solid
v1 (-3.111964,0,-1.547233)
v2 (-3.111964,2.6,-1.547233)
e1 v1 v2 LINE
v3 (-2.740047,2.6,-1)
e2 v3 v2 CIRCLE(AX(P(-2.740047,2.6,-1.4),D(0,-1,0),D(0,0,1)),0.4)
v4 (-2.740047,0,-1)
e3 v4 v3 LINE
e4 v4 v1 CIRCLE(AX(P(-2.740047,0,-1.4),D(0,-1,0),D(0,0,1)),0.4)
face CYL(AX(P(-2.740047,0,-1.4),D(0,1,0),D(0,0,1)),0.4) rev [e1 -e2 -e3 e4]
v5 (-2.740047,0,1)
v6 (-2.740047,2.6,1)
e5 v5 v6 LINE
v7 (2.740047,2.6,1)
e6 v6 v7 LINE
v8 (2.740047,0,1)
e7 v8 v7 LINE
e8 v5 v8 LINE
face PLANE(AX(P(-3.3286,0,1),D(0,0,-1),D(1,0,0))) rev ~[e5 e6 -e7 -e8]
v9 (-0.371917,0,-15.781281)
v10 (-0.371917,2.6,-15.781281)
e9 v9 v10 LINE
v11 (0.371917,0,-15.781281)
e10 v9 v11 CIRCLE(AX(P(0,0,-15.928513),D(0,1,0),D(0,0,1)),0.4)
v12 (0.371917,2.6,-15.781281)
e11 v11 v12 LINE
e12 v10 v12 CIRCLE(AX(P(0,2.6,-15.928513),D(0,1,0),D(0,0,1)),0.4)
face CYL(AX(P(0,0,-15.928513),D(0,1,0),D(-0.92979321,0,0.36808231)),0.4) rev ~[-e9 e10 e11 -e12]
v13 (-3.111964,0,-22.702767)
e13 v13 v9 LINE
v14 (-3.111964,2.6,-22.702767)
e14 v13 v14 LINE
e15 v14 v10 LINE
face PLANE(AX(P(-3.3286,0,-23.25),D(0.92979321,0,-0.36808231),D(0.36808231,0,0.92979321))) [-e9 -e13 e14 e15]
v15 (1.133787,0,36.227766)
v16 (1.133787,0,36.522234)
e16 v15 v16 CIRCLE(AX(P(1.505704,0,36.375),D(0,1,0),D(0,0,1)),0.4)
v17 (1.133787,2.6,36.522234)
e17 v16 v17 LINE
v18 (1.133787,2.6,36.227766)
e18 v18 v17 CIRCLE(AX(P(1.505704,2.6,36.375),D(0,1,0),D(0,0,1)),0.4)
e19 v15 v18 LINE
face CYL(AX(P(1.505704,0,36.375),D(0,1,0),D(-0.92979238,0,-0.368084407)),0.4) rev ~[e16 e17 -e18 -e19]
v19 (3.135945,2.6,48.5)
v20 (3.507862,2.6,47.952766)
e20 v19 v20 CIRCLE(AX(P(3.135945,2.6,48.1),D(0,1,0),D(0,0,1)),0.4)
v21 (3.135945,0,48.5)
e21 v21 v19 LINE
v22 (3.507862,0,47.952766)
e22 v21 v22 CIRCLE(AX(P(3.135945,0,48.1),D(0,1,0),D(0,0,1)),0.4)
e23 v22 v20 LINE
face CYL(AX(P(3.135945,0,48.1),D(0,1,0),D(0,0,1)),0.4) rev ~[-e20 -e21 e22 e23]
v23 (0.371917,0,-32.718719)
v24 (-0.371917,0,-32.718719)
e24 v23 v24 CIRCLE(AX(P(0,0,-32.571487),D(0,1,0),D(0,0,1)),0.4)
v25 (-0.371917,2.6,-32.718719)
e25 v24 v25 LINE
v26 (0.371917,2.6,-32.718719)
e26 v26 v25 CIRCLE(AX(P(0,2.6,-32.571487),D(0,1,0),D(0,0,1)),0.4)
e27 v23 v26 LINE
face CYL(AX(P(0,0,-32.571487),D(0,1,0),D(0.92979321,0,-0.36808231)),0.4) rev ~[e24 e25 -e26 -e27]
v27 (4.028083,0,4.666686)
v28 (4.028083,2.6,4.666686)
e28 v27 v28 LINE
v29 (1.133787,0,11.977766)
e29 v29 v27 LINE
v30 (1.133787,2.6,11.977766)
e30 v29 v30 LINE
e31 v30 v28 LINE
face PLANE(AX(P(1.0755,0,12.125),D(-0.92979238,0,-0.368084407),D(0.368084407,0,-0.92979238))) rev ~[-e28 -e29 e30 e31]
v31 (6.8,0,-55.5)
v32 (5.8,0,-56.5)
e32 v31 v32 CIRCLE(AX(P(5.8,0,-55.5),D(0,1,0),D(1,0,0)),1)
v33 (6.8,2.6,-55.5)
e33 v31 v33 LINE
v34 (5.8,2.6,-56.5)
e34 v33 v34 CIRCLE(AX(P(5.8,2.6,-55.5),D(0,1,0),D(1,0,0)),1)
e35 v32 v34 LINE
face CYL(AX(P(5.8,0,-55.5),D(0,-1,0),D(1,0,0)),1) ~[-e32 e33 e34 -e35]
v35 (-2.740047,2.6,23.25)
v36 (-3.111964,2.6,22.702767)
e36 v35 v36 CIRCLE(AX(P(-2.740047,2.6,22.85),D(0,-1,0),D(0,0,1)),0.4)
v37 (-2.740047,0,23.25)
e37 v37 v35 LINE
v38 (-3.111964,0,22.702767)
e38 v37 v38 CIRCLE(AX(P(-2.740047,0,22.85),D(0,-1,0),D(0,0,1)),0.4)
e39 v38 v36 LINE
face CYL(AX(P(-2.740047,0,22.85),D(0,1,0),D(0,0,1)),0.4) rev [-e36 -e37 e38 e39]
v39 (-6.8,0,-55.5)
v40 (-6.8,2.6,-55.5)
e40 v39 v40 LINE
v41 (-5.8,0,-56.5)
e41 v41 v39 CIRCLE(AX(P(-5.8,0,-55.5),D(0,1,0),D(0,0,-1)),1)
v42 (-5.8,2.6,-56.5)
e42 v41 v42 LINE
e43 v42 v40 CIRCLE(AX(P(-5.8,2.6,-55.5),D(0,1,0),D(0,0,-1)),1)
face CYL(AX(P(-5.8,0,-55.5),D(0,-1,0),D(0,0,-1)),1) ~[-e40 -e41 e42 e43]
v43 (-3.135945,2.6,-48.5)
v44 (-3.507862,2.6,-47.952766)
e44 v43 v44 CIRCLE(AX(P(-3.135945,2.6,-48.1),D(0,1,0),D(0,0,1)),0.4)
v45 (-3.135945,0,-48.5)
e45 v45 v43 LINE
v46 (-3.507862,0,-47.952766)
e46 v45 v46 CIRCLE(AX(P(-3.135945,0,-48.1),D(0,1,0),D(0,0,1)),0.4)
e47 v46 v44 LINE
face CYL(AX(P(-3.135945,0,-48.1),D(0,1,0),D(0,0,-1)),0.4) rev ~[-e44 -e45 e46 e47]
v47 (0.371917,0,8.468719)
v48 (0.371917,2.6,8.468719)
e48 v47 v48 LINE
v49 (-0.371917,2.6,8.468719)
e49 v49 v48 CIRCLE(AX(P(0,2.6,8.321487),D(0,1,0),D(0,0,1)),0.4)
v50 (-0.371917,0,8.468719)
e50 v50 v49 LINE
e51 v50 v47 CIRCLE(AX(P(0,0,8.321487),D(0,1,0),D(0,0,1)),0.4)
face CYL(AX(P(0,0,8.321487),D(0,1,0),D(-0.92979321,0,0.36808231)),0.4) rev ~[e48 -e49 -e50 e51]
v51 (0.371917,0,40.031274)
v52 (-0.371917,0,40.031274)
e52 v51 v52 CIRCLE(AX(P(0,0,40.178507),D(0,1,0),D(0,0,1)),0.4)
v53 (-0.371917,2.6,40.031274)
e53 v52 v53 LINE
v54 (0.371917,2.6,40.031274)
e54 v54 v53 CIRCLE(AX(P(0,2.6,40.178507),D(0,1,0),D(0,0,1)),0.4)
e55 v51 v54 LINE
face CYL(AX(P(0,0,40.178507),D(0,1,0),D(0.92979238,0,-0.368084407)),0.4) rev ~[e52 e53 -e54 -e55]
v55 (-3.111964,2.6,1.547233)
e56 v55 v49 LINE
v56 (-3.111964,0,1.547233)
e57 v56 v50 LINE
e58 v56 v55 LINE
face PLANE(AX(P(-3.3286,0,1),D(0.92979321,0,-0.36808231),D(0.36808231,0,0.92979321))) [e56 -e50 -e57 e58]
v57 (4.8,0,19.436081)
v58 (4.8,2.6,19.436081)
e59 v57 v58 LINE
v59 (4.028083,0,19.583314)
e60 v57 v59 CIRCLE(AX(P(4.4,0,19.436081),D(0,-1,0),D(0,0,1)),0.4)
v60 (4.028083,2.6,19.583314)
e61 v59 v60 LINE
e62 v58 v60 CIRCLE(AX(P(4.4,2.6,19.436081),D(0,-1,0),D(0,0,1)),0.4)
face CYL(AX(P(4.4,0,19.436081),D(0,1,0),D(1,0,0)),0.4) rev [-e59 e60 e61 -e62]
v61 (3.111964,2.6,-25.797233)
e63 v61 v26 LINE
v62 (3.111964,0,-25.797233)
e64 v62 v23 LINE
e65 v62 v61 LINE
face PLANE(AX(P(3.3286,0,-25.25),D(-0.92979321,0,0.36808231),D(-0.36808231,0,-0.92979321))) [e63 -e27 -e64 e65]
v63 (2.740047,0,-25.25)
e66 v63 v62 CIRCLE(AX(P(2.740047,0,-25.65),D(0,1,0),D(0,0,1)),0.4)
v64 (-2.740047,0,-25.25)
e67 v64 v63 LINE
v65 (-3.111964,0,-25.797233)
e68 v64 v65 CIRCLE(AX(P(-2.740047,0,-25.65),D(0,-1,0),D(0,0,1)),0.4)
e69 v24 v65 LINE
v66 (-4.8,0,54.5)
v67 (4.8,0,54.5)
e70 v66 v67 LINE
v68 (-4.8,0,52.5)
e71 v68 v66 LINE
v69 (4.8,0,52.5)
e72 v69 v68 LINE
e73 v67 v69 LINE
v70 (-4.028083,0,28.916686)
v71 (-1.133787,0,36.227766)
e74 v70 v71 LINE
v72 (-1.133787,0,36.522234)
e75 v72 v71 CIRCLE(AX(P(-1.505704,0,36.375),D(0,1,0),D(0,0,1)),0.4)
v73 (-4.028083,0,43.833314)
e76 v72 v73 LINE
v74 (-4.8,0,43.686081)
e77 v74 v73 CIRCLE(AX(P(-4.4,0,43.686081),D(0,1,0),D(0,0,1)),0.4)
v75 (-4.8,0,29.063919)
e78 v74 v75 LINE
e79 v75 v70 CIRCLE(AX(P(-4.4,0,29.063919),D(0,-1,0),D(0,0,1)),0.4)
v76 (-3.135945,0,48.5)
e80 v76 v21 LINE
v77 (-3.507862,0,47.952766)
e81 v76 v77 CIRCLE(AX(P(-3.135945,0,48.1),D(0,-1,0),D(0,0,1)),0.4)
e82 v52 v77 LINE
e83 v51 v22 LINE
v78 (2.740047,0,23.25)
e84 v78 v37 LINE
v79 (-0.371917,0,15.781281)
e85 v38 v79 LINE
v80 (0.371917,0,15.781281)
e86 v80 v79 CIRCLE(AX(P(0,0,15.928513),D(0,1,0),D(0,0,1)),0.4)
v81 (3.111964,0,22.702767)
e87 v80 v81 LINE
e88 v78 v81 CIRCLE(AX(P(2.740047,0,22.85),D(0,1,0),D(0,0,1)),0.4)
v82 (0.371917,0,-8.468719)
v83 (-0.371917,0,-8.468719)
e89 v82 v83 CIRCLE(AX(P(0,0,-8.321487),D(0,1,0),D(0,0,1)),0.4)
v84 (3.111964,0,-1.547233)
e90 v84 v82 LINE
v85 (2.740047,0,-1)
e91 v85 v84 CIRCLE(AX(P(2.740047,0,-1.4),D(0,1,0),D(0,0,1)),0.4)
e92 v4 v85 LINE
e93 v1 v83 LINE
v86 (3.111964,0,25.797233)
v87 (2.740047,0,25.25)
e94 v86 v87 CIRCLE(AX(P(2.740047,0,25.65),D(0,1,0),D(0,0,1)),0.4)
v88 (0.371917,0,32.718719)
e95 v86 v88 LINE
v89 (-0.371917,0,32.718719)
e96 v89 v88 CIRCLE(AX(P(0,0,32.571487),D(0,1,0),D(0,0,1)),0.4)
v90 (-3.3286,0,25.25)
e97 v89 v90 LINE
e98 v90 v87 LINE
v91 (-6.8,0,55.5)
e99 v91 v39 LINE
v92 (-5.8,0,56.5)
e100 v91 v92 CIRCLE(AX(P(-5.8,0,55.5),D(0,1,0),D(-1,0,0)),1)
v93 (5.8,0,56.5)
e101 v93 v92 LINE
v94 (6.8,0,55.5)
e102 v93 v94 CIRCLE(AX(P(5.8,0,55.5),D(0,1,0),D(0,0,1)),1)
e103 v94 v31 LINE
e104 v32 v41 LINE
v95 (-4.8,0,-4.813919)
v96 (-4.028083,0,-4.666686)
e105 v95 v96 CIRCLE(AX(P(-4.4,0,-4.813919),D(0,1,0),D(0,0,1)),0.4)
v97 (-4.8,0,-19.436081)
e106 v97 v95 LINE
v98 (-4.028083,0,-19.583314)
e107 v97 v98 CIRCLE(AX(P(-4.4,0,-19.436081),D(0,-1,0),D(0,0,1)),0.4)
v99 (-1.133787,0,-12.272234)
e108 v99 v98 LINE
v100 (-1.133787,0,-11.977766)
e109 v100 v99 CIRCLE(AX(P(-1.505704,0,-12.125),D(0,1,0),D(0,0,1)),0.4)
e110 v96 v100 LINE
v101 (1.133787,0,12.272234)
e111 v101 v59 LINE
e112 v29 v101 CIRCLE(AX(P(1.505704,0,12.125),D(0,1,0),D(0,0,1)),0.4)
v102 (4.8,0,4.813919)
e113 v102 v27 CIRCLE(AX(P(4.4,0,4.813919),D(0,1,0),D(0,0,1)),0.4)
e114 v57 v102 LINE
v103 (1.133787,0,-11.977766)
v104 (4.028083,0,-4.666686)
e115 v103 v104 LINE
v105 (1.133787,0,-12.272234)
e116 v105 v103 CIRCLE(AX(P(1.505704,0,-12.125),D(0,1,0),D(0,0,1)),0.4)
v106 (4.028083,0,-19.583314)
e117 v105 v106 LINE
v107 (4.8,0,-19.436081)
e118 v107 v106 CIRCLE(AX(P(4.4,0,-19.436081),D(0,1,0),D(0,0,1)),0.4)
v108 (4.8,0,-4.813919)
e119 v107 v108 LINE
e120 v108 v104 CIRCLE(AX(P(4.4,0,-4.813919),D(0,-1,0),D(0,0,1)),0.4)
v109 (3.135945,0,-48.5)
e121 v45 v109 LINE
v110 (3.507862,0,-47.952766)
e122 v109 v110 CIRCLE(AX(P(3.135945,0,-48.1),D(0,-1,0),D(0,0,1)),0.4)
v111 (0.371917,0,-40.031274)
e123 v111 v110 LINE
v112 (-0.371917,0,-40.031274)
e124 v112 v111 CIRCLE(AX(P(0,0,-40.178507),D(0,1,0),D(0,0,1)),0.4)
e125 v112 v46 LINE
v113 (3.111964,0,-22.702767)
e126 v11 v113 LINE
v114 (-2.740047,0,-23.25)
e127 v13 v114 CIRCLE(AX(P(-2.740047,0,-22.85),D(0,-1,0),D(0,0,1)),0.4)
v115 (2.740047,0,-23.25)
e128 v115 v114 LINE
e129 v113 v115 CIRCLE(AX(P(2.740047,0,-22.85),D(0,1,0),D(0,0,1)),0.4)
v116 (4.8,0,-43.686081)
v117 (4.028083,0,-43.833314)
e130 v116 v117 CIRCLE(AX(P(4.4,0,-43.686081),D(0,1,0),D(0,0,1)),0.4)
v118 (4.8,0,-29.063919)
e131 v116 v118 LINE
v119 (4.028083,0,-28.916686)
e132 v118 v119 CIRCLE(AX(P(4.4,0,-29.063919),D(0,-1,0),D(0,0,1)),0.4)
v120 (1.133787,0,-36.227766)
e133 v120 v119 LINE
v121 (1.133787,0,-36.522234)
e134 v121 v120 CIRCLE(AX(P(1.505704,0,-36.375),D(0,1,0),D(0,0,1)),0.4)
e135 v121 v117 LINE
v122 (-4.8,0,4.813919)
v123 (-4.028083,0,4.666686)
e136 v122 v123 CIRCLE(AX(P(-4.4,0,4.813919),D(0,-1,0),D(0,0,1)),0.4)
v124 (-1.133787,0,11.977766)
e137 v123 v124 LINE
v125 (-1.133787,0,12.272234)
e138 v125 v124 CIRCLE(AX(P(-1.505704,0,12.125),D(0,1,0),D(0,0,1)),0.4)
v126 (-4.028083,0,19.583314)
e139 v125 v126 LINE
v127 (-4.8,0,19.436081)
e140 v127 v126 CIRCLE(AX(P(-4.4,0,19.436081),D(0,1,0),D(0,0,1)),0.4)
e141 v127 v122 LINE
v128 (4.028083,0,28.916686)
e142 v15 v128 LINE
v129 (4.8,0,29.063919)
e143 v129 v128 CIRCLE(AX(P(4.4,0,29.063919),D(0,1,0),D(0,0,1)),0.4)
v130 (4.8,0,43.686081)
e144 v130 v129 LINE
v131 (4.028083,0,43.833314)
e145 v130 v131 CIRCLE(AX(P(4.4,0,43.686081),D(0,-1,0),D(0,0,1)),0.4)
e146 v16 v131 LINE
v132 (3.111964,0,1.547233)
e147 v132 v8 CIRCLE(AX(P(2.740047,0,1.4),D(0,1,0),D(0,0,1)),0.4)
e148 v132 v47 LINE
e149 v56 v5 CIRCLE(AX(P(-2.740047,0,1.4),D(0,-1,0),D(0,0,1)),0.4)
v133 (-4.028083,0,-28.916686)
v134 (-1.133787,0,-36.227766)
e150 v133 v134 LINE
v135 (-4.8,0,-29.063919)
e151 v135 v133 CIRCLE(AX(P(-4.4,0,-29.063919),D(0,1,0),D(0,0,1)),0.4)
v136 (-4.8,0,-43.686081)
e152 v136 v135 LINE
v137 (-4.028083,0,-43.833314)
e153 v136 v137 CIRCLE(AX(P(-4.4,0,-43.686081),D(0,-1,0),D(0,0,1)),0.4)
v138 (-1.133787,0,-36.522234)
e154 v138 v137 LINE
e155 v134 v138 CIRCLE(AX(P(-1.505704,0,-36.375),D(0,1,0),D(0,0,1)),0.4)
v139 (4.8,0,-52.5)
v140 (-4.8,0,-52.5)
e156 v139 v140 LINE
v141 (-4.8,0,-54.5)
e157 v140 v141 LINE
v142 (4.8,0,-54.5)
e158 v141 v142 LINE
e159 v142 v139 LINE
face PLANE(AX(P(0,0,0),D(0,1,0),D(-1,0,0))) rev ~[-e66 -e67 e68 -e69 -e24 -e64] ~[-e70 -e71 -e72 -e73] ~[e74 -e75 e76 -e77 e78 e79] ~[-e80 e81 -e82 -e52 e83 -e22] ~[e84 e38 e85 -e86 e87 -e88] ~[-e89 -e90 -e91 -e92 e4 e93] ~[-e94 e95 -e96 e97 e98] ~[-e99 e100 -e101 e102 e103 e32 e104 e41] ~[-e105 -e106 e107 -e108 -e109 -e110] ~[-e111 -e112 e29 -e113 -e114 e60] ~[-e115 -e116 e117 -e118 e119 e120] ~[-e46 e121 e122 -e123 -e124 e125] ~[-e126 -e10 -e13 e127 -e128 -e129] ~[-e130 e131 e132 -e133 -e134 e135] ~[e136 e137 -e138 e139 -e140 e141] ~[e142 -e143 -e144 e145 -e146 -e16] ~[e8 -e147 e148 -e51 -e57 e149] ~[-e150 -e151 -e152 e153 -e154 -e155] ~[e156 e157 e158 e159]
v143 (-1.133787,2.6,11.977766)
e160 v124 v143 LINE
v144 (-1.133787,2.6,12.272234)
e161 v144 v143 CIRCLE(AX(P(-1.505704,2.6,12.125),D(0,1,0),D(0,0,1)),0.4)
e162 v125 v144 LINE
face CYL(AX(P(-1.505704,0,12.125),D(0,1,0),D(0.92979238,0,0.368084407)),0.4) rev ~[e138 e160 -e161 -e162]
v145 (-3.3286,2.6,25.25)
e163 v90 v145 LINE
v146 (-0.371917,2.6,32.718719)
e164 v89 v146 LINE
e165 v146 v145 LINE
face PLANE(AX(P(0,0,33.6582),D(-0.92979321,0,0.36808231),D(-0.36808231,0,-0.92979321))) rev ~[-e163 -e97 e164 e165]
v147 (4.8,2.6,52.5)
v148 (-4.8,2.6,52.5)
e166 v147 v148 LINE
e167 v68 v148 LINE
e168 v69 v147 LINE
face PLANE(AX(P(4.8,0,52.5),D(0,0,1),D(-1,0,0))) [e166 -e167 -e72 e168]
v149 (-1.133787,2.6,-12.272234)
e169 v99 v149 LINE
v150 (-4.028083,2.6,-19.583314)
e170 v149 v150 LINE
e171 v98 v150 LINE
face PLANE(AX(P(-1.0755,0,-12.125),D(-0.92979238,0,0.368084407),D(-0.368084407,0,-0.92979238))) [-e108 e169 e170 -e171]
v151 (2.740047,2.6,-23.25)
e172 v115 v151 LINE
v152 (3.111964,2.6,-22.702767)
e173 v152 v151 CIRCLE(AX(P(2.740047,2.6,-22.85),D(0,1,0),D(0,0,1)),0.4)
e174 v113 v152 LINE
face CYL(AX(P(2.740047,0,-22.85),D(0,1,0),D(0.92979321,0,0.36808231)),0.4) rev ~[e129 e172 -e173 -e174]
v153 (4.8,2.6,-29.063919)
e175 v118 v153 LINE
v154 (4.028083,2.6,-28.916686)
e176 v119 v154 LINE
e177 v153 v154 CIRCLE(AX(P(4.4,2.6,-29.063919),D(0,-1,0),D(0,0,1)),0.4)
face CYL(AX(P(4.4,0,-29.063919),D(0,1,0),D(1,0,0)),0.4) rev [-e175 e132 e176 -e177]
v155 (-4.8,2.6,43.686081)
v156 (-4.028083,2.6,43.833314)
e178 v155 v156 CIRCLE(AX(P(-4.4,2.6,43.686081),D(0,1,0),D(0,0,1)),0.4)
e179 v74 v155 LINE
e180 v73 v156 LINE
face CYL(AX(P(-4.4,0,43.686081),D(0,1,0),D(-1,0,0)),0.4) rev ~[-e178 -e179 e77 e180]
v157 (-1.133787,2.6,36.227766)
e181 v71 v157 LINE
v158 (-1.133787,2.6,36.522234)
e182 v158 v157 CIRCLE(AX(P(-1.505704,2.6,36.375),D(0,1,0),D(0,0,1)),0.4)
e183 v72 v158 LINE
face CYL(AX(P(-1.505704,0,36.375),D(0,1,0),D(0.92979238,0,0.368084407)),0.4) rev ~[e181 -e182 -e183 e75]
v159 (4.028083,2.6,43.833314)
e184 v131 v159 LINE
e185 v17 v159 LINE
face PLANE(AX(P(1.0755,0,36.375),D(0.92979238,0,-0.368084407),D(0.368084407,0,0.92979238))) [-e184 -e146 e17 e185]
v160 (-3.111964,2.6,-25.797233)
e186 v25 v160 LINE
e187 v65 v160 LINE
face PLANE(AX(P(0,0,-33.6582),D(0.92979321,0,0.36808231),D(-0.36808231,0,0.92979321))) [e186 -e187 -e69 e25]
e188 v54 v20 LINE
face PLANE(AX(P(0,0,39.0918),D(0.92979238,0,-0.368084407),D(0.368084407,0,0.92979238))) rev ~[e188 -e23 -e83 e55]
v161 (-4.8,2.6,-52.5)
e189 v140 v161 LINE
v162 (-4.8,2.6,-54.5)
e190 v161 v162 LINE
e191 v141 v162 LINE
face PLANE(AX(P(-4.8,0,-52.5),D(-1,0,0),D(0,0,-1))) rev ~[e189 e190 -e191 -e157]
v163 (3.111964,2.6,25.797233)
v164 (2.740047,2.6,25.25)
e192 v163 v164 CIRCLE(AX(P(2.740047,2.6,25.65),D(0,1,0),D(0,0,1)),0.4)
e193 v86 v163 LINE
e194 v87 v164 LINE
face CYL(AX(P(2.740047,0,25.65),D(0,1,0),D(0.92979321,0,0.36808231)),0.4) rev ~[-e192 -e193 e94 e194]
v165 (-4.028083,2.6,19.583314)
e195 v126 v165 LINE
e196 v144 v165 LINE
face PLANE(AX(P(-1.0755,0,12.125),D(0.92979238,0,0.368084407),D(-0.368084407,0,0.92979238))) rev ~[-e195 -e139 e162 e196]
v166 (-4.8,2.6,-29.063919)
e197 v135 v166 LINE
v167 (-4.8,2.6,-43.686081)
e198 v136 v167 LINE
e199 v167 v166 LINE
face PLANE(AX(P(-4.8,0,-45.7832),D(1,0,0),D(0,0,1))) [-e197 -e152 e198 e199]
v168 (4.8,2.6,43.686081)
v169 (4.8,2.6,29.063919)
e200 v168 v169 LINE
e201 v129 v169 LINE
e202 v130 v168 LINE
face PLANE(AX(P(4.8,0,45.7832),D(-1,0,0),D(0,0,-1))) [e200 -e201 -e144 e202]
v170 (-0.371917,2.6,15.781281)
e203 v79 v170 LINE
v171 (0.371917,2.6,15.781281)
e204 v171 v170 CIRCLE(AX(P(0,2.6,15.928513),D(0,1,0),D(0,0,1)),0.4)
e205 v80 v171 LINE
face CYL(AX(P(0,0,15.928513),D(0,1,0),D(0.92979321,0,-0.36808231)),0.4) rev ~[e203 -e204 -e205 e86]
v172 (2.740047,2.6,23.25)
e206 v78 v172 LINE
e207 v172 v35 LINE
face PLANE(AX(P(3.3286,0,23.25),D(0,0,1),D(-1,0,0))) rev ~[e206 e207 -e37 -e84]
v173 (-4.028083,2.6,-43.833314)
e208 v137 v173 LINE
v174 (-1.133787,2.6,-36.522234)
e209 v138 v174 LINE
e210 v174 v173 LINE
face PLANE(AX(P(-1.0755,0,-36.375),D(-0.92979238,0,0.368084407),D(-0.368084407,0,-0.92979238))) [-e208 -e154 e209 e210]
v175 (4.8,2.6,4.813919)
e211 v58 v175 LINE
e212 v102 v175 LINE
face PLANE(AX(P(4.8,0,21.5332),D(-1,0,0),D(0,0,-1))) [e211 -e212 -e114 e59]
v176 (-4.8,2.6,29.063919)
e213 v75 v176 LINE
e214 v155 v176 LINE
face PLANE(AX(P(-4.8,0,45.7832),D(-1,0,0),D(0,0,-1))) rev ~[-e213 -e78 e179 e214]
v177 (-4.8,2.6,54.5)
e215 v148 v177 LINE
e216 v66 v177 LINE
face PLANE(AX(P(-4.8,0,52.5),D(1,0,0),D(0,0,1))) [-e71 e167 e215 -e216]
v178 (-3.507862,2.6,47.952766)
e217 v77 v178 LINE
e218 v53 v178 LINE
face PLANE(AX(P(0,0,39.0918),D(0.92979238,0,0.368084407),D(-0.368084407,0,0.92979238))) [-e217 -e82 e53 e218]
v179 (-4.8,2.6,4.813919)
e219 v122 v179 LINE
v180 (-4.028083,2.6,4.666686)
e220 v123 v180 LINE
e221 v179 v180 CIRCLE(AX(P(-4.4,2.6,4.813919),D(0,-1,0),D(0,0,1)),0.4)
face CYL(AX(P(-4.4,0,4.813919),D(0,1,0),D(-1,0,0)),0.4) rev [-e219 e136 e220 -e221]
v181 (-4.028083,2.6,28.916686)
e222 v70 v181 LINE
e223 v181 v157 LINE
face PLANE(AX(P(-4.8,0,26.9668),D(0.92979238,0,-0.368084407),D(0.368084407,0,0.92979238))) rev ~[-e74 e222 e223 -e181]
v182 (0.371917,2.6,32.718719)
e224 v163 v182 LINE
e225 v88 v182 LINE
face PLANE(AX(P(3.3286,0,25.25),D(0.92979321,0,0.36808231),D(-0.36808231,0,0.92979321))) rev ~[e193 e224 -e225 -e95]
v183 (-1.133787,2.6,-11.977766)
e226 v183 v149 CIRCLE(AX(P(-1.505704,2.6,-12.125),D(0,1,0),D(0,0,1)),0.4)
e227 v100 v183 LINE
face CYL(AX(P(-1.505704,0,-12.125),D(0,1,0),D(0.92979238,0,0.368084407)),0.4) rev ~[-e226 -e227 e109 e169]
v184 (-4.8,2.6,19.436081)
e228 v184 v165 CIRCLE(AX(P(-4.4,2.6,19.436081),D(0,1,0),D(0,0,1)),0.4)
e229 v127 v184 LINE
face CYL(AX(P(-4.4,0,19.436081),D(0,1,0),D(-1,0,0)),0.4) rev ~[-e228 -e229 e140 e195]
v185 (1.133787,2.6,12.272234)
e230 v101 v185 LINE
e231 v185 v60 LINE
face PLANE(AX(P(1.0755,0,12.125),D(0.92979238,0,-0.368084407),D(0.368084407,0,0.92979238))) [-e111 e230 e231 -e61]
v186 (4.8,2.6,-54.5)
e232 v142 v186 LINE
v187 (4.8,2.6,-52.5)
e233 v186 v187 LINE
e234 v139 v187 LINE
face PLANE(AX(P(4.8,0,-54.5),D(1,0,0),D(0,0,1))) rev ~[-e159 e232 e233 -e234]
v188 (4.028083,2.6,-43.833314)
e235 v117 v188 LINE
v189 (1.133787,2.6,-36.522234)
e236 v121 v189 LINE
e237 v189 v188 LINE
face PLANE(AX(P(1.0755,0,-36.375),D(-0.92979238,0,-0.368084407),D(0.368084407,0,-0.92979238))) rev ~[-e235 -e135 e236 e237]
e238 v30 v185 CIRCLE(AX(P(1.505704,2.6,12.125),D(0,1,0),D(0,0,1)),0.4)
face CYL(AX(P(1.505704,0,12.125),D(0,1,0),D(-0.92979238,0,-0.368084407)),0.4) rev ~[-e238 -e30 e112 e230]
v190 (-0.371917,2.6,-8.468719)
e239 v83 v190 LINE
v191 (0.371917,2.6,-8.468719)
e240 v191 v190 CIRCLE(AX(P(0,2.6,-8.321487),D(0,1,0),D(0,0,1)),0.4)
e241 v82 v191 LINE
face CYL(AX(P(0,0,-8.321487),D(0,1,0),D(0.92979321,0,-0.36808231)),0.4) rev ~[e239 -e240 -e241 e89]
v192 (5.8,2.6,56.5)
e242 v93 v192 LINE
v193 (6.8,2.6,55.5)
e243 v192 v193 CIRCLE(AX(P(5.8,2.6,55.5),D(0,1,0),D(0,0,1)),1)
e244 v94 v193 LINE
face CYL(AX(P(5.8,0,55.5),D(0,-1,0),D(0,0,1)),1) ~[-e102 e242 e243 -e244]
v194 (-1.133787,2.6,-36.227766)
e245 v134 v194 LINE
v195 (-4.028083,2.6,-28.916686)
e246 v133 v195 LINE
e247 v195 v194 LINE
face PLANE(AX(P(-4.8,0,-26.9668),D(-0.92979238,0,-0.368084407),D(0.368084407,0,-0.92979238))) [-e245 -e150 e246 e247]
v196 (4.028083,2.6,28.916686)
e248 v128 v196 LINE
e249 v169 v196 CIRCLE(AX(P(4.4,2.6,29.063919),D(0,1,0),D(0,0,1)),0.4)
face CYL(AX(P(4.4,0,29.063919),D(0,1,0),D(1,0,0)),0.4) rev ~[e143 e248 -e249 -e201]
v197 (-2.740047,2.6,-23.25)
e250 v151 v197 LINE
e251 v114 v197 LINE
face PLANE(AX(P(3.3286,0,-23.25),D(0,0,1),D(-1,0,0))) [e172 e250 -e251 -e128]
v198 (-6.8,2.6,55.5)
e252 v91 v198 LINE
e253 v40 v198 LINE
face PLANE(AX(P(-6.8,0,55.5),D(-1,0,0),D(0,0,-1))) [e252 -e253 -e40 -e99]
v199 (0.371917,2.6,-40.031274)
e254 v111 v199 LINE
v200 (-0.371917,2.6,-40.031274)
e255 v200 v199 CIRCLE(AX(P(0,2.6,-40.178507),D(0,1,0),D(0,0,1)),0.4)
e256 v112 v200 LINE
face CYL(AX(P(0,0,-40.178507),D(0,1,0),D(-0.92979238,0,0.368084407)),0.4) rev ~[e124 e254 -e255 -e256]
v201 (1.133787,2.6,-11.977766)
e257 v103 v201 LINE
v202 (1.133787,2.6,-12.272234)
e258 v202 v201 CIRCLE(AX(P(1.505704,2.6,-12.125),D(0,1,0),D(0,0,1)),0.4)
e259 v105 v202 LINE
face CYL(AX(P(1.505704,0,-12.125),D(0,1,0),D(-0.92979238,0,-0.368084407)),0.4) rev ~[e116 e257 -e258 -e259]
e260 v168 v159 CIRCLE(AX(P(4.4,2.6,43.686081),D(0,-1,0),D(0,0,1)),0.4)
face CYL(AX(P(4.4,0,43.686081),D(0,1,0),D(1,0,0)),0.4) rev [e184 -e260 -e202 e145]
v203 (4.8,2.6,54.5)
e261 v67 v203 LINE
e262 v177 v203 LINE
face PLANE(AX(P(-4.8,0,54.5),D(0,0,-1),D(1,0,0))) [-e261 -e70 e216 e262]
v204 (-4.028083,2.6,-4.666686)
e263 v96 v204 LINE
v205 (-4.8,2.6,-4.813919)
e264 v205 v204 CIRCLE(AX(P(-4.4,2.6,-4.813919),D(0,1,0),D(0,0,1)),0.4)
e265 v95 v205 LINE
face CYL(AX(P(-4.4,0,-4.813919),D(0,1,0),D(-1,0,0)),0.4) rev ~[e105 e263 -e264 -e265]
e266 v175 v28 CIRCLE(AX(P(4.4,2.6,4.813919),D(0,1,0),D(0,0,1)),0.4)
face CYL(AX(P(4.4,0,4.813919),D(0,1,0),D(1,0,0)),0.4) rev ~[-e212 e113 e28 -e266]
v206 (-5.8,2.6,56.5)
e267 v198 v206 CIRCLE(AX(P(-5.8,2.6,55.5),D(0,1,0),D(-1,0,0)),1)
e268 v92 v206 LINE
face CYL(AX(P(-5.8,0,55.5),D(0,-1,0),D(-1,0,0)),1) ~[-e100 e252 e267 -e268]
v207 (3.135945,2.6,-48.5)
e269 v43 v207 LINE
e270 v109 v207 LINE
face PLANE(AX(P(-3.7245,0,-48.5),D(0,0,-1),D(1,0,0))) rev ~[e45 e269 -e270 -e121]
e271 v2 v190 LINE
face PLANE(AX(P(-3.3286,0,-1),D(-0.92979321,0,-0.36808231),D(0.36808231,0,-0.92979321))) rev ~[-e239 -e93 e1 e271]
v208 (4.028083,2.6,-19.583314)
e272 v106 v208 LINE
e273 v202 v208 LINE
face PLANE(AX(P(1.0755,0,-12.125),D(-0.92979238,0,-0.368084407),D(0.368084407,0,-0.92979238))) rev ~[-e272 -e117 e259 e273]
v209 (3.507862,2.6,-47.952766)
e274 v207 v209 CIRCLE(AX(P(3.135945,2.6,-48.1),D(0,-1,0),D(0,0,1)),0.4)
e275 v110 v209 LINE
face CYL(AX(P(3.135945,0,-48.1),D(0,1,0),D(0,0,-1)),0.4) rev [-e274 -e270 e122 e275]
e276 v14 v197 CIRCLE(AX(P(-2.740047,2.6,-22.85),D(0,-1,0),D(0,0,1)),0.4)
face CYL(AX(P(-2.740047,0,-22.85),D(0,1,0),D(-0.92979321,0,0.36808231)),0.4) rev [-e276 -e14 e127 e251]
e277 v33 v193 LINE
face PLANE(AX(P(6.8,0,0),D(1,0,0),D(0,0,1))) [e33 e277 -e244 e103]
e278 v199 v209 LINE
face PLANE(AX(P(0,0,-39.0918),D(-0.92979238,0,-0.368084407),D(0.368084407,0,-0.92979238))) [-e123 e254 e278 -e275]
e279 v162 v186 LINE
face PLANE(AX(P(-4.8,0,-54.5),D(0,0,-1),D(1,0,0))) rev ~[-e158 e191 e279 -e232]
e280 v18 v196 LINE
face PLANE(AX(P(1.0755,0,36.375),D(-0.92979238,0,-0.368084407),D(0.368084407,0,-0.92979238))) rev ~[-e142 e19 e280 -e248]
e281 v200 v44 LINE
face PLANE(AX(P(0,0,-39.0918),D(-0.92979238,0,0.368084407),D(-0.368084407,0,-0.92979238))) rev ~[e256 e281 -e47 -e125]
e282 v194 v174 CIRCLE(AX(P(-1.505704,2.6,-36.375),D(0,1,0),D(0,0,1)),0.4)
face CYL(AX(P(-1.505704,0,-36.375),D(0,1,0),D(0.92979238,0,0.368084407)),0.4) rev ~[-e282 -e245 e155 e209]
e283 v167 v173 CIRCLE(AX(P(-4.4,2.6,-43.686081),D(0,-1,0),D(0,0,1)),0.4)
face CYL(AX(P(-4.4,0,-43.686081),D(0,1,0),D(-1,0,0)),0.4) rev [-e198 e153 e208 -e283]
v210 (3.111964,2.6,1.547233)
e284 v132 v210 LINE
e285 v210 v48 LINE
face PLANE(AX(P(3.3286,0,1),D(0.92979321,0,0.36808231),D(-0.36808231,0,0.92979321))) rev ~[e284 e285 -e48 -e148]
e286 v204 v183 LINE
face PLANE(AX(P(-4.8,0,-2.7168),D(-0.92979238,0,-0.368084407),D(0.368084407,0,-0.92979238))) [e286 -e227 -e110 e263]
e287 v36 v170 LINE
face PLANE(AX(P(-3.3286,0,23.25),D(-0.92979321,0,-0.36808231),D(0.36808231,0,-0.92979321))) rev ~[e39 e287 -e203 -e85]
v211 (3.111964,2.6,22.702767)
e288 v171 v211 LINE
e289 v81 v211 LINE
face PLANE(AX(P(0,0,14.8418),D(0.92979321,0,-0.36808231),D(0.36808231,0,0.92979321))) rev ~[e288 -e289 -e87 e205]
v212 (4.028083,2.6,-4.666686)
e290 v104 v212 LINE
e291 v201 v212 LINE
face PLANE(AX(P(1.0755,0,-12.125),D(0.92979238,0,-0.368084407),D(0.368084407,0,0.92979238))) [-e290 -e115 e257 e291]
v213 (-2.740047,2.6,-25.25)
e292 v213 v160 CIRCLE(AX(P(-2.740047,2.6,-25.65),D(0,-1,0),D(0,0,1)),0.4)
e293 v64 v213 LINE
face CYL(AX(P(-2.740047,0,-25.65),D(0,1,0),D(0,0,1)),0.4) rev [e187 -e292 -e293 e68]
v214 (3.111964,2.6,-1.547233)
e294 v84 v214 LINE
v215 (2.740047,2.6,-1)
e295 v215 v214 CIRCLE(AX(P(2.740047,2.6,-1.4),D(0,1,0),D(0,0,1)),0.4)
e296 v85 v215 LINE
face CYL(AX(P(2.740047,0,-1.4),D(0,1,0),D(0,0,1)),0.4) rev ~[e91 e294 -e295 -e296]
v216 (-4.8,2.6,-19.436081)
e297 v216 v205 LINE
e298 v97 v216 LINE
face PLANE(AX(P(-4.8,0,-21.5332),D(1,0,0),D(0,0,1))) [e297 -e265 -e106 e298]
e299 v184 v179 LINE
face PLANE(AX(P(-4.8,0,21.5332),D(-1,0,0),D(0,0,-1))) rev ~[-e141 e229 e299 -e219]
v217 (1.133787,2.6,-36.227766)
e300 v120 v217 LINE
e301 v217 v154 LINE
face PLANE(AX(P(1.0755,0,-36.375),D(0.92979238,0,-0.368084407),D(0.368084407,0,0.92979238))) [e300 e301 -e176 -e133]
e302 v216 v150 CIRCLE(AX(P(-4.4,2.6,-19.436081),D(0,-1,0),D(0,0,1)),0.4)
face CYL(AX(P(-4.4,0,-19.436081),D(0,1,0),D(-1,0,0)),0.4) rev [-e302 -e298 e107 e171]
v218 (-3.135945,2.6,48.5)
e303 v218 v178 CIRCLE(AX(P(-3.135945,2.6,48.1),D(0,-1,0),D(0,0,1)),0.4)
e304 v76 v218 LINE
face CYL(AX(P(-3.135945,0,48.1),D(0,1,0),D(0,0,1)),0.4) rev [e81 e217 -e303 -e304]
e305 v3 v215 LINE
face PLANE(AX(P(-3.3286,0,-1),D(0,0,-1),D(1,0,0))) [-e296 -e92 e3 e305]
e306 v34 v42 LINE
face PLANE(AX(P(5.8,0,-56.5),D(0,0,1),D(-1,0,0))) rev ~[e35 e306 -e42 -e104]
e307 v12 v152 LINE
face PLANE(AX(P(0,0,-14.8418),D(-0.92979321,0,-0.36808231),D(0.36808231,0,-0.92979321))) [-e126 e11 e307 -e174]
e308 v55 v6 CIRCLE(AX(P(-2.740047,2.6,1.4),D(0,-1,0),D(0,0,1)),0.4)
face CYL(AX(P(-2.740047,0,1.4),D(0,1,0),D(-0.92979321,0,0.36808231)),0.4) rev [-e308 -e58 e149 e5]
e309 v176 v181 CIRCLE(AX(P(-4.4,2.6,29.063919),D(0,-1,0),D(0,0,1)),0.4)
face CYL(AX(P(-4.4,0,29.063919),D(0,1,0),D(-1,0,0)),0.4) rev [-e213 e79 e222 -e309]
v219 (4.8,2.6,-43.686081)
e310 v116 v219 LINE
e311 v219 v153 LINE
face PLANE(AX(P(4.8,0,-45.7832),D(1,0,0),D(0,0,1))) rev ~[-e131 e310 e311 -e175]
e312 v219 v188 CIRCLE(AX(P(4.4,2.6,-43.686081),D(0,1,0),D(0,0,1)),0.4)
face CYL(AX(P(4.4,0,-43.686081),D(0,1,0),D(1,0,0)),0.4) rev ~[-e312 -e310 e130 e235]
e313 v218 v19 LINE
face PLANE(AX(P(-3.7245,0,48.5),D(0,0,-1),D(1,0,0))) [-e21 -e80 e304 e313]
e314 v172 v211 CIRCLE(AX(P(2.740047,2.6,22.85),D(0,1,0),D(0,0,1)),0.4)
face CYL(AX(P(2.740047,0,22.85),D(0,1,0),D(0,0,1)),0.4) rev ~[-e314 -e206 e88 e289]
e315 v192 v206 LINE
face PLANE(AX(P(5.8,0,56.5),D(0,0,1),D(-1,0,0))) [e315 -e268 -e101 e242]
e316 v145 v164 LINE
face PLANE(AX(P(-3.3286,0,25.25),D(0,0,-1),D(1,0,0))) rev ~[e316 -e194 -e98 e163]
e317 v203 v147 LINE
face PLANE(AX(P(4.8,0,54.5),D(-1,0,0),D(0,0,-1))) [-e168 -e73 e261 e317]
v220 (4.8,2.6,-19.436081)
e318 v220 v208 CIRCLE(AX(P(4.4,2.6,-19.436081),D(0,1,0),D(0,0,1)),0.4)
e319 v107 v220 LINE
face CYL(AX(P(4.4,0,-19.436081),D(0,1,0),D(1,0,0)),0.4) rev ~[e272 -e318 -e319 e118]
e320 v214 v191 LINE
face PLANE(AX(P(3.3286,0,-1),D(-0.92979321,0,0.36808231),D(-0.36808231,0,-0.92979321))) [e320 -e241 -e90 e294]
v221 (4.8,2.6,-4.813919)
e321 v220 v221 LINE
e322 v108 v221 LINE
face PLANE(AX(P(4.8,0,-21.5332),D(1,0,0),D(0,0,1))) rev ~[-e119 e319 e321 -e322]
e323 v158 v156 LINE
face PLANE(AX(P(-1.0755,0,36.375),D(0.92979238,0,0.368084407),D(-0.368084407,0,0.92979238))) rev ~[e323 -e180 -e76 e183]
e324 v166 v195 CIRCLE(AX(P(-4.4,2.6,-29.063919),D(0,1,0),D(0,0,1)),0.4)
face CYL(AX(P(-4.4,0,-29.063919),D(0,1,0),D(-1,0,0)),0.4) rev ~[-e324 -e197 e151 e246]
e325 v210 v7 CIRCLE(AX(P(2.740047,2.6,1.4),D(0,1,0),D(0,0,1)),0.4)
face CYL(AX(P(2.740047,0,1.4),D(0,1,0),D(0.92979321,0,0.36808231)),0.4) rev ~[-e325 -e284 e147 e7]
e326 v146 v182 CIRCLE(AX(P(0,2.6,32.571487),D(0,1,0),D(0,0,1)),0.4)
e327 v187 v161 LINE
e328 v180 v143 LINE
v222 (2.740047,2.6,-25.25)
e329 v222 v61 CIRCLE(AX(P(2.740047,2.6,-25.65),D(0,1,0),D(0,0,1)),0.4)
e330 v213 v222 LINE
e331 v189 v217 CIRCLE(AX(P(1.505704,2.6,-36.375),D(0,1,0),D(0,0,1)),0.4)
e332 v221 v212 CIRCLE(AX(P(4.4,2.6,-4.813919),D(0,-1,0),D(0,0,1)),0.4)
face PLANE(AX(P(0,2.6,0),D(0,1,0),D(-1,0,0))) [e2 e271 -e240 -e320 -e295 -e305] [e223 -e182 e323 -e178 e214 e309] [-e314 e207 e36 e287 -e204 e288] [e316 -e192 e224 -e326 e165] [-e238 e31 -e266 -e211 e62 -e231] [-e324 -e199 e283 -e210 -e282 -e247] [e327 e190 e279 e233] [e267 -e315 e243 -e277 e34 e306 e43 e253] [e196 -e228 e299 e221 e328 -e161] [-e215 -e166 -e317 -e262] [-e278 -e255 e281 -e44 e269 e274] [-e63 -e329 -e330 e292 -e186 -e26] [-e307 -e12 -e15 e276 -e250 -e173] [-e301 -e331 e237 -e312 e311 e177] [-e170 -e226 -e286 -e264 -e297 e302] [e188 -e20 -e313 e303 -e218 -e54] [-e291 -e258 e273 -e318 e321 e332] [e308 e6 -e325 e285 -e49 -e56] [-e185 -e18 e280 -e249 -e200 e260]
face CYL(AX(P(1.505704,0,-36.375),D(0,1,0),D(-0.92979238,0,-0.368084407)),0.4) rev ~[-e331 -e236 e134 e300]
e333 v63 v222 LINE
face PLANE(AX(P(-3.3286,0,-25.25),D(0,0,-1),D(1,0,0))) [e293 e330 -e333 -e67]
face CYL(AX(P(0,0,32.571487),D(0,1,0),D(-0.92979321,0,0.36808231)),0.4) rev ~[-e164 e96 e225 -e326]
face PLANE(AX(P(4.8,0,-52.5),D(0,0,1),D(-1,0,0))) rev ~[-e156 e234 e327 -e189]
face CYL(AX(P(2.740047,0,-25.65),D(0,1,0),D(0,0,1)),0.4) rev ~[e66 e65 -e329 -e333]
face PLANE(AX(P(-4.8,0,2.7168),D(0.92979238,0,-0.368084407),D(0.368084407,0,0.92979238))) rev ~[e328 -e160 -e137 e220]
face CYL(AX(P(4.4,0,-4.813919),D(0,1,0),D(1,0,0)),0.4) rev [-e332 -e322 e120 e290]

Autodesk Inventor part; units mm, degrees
ref_plane "YZ Plane" through (0, 0, 0) normal (1, 0, 0) x (0, 1, 0)
ref_plane "XZ Plane" through (0, 0, 0) normal (0, 1, 0) x (-1, 0, 0)
ref_plane "XY Plane" through (0, 0, 0) normal (0, 0, 1) x (1, 0, 0)
sketch "Sketch1" plane through (0, 0, 0) normal (0, 1, 0) x (-1, 0, 0)
  line L0 (-6.8, 0) -> (-6.8, 55.5)
  line L1 (-5.8, 56.5) -> (5.8, 56.5)
  line L2 (6.8, 55.5) -> (6.8, 0)
  line L3 (0, 0) -> (0, 56.5) construction
  line L4 (-4.8, 52.5) -> (4.8, 52.5)
  line L5 (4.8, 52.5) -> (4.8, 54.5)
  line L6 (4.8, 54.5) -> (-4.8, 54.5)
  line L7 (-4.8, 54.5) -> (-4.8, 52.5)
  arc A0 (-5.8, 56.5) -> (-6.8, 55.5) centre (-5.8, 55.5) ccw
  arc A1 (6.8, 55.5) -> (5.8, 56.5) centre (5.8, 55.5) ccw
  line L8 (6.8, 0) -> (-6.8, 0) construction
  line L9 (4.8, 48.5) -> (-4.8, 48.5)
  line L10 (4.8, 48.5) -> (4.8, 0)
  line L11 (-4.8, 48.5) -> (-4.8, 0)
  line L12 (4.8, 48.5) -> (-4.8, 24.25) construction
  line L13 (4.8, 0) -> (-4.8, 24.25) construction
  line L14 (-4.8, 0) -> (4.8, 24.25) construction
  line L15 (-4.8, 48.5) -> (4.8, 24.25) construction
  line L16 (-4.8, 24.25) -> (4.8, 24.25) construction
  line L17 (4.8, 2.7168) -> (1.0755, 12.125)
  line L18 (1.0755, 12.125) -> (4.8, 21.5332)
  line L19 (4.8, 26.9668) -> (1.0755, 36.375)
  line L20 (1.0755, 36.375) -> (4.8, 45.7832)
  line L21 (-1.0755, 36.375) -> (-4.8, 26.9668)
  line L22 (-1.0755, 36.375) -> (-4.8, 45.7832)
  line L23 (3.3286, 23.25) -> (0, 14.8418)
  line L24 (0, 14.8418) -> (-3.3286, 23.25)
  line L25 (-3.3286, 23.25) -> (3.3286, 23.25)
  line L26 (3.3286, 25.25) -> (-3.3286, 25.25)
  line L27 (-3.3286, 25.25) -> (0, 33.6582)
  line L28 (0, 33.6582) -> (3.3286, 25.25)
  line L29 (-1.0755, 12.125) -> (-4.8, 2.7168)
  line L30 (-1.0755, 12.125) -> (-4.8, 21.5332)
  line L31 (0, 39.0918) -> (3.7245, 48.5)
  line L32 (0, 39.0918) -> (-3.7245, 48.5)
  line L33 (3.3286, 1) -> (-3.3286, 1)
  line L34 (-3.3286, 1) -> (0, 9.4082)
  line L35 (3.3286, 1) -> (0, 9.4082)
  line L36 (-6.8, 0) -> (-6.8, -55.5)
  line L37 (-5.8, -56.5) -> (5.8, -56.5)
  line L38 (6.8, -55.5) -> (6.8, 0)
  line L39 (-4.8, -52.5) -> (4.8, -52.5)
  line L40 (4.8, -52.5) -> (4.8, -54.5)
  line L41 (4.8, -54.5) -> (-4.8, -54.5)
  line L42 (-4.8, -54.5) -> (-4.8, -52.5)
  arc A2 (-6.8, -55.5) -> (-5.8, -56.5) centre (-5.8, -55.5) ccw
  arc A3 (5.8, -56.5) -> (6.8, -55.5) centre (5.8, -55.5) ccw
  line L43 (4.8, -48.5) -> (-4.8, -48.5)
  line L44 (4.8, -48.5) -> (4.8, 0)
  line L45 (-4.8, -48.5) -> (-4.8, 0)
  line L46 (4.8, -48.5) -> (-4.8, -24.25) construction
  line L47 (4.8, 0) -> (-4.8, -24.25) construction
  line L48 (-4.8, 0) -> (4.8, -24.25) construction
  line L49 (-4.8, -48.5) -> (4.8, -24.25) construction
  line L50 (-4.8, -24.25) -> (4.8, -24.25) construction
  line L51 (4.8, -2.7168) -> (1.0755, -12.125)
  line L52 (1.0755, -12.125) -> (4.8, -21.5332)
  line L53 (4.8, -26.9668) -> (1.0755, -36.375)
  line L54 (1.0755, -36.375) -> (4.8, -45.7832)
  line L55 (-1.0755, -36.375) -> (-4.8, -26.9668)
  line L56 (-1.0755, -36.375) -> (-4.8, -45.7832)
  line L57 (3.3286, -23.25) -> (0, -14.8418)
  line L58 (0, -14.8418) -> (-3.3286, -23.25)
  line L59 (-3.3286, -23.25) -> (3.3286, -23.25)
  line L60 (3.3286, -25.25) -> (-3.3286, -25.25)
  line L61 (-3.3286, -25.25) -> (0, -33.6582)
  line L62 (0, -33.6582) -> (3.3286, -25.25)
  line L63 (-1.0755, -12.125) -> (-4.8, -2.7168)
  line L64 (-1.0755, -12.125) -> (-4.8, -21.5332)
  line L65 (0, -39.0918) -> (3.7245, -48.5)
  line L66 (0, -39.0918) -> (-3.7245, -48.5)
  line L67 (3.3286, -1) -> (-3.3286, -1)
  line L68 (-3.3286, -1) -> (0, -9.4082)
  line L69 (3.3286, -1) -> (0, -9.4082)
  point P0 (-6.8, 56.5)
  point P1 (6.8, 56.5)
  point P2 (0, 0)
  point P3 (-6.8, -56.5)
  point P4 (6.8, -56.5)
  point P5 (0, -56.5)
  dimension "d6" = 13.6
  dimension "d10" = 2
  dimension "d11" = 1
  dimension "d12" = 2
  dimension "d15" = 9.6
  dimension "d16" = 52.5
  dimension "d17" = 4
  dimension "d21" = 2
  dimension "d22" = 2
  dimension "d23" = 2
  dimension "d25" = 2
  dimension "d26" = 2
  dimension "d28" = 2
  dimension "d29" = 2
  dimension "d30" = 2
  dimension "d31" = 2
  dimension "d32" = 2
  dimension "d33" = 2
  dimension "d38" = 2
  dimension "d39" = 2
  dimension "d40" = 2
  dimension "d41" = 2
  dimension "d42" = 2
  dimension "d43" = 2
extrude "Extrusion2" add sketch "Sketch1" along normal blind 2.6 contours L0 A0 L1 A1 L2 L38 A3 L37 A2 L36 | L10 L20 L19 L18 L17 L44 L51 L52 L53 L54 L43 L65 L66 L45 L56 L55 L64 L63 L11 L29 L30 L21 L22 L9 L32 L31
fillet "Fillet1" radius 0.4 47 edges at (-4.8, 1.3, 45.7832) (-4.8, 1.3, 26.9668) (-1.0755, 1.3, 36.375) (-3.7245, 1.3, 48.5) (0, 1.3, 39.0918) (3.7245, 1.3, 48.5) (4.8, 1.3, 45.7832) (1.0755, 1.3, 36.375) (0, 1.3, 33.6582) (3.3286, 1.3, 25.25) (4.8, 1.3, 26.9668) (3.3286, 1.3, 23.25) (-3.3286, 1.3, 23.25) (-4.8, 1.3, 21.5332) (0, 1.3, 14.8418) (-1.0755, 1.3, 12.125) (3.3286, 1.3, 1) (-3.3286, 1.3, 1) (-4.8, 1.3, 2.7168) (0, 1.3, 9.4082) (1.0755, 1.3, 12.125) (4.8, 1.3, 2.7168) (4.8, 1.3, 21.5332) (-3.3286, 1.3, -1) (0, 1.3, -9.4082) (3.3286, 1.3, -1) (4.8, 1.3, -2.7168) (1.0755, 1.3, -12.125) (-1.0755, 1.3, -12.125) (-4.8, 1.3, -2.7168) (-4.8, 1.3, -21.5332) (-3.3286, 1.3, -23.25) (3.3286, 1.3, -23.25) (0, 1.3, -14.8418) (4.8, 1.3, -21.5332) (-3.3286, 1.3, -25.25) (0, 1.3, -33.6582) (3.3286, 1.3, -25.25) (4.8, 1.3, -26.9668) (1.0755, 1.3, -36.375) (4.8, 1.3, -45.7832) (3.7245, 1.3, -48.5) (-3.7245, 1.3, -48.5) (0, 1.3, -39.0918) (-4.8, 1.3, -45.7832) (-4.8, 1.3, -26.9668) (-1.0755, 1.3, -36.375)
equation "\"d21\" = link_width"
equation "\"d22\" = link_width"
equation "\"d23\" = link_width"
equation "\"d25\" = link_width"
equation "\"d26\" = link_width"
equation "\"d28\" = link_width"
equation "\"d29\" = link_width"
equation "\"d30\" = link_width"
equation "\"d31\" = link_width"
equation "\"d32\" = link_width"
equation "\"d33\" = link_width"
equation "\"d38\" = link_width"
equation "\"d39\" = link_width"
equation "\"d40\" = link_width"
equation "\"d41\" = link_width"
equation "\"d42\" = link_width"
equation "\"d43\" = link_width"
equation "\"link_width\" = 2"
properties part number "mount_battery_fastener" material "ABS Plastic"
